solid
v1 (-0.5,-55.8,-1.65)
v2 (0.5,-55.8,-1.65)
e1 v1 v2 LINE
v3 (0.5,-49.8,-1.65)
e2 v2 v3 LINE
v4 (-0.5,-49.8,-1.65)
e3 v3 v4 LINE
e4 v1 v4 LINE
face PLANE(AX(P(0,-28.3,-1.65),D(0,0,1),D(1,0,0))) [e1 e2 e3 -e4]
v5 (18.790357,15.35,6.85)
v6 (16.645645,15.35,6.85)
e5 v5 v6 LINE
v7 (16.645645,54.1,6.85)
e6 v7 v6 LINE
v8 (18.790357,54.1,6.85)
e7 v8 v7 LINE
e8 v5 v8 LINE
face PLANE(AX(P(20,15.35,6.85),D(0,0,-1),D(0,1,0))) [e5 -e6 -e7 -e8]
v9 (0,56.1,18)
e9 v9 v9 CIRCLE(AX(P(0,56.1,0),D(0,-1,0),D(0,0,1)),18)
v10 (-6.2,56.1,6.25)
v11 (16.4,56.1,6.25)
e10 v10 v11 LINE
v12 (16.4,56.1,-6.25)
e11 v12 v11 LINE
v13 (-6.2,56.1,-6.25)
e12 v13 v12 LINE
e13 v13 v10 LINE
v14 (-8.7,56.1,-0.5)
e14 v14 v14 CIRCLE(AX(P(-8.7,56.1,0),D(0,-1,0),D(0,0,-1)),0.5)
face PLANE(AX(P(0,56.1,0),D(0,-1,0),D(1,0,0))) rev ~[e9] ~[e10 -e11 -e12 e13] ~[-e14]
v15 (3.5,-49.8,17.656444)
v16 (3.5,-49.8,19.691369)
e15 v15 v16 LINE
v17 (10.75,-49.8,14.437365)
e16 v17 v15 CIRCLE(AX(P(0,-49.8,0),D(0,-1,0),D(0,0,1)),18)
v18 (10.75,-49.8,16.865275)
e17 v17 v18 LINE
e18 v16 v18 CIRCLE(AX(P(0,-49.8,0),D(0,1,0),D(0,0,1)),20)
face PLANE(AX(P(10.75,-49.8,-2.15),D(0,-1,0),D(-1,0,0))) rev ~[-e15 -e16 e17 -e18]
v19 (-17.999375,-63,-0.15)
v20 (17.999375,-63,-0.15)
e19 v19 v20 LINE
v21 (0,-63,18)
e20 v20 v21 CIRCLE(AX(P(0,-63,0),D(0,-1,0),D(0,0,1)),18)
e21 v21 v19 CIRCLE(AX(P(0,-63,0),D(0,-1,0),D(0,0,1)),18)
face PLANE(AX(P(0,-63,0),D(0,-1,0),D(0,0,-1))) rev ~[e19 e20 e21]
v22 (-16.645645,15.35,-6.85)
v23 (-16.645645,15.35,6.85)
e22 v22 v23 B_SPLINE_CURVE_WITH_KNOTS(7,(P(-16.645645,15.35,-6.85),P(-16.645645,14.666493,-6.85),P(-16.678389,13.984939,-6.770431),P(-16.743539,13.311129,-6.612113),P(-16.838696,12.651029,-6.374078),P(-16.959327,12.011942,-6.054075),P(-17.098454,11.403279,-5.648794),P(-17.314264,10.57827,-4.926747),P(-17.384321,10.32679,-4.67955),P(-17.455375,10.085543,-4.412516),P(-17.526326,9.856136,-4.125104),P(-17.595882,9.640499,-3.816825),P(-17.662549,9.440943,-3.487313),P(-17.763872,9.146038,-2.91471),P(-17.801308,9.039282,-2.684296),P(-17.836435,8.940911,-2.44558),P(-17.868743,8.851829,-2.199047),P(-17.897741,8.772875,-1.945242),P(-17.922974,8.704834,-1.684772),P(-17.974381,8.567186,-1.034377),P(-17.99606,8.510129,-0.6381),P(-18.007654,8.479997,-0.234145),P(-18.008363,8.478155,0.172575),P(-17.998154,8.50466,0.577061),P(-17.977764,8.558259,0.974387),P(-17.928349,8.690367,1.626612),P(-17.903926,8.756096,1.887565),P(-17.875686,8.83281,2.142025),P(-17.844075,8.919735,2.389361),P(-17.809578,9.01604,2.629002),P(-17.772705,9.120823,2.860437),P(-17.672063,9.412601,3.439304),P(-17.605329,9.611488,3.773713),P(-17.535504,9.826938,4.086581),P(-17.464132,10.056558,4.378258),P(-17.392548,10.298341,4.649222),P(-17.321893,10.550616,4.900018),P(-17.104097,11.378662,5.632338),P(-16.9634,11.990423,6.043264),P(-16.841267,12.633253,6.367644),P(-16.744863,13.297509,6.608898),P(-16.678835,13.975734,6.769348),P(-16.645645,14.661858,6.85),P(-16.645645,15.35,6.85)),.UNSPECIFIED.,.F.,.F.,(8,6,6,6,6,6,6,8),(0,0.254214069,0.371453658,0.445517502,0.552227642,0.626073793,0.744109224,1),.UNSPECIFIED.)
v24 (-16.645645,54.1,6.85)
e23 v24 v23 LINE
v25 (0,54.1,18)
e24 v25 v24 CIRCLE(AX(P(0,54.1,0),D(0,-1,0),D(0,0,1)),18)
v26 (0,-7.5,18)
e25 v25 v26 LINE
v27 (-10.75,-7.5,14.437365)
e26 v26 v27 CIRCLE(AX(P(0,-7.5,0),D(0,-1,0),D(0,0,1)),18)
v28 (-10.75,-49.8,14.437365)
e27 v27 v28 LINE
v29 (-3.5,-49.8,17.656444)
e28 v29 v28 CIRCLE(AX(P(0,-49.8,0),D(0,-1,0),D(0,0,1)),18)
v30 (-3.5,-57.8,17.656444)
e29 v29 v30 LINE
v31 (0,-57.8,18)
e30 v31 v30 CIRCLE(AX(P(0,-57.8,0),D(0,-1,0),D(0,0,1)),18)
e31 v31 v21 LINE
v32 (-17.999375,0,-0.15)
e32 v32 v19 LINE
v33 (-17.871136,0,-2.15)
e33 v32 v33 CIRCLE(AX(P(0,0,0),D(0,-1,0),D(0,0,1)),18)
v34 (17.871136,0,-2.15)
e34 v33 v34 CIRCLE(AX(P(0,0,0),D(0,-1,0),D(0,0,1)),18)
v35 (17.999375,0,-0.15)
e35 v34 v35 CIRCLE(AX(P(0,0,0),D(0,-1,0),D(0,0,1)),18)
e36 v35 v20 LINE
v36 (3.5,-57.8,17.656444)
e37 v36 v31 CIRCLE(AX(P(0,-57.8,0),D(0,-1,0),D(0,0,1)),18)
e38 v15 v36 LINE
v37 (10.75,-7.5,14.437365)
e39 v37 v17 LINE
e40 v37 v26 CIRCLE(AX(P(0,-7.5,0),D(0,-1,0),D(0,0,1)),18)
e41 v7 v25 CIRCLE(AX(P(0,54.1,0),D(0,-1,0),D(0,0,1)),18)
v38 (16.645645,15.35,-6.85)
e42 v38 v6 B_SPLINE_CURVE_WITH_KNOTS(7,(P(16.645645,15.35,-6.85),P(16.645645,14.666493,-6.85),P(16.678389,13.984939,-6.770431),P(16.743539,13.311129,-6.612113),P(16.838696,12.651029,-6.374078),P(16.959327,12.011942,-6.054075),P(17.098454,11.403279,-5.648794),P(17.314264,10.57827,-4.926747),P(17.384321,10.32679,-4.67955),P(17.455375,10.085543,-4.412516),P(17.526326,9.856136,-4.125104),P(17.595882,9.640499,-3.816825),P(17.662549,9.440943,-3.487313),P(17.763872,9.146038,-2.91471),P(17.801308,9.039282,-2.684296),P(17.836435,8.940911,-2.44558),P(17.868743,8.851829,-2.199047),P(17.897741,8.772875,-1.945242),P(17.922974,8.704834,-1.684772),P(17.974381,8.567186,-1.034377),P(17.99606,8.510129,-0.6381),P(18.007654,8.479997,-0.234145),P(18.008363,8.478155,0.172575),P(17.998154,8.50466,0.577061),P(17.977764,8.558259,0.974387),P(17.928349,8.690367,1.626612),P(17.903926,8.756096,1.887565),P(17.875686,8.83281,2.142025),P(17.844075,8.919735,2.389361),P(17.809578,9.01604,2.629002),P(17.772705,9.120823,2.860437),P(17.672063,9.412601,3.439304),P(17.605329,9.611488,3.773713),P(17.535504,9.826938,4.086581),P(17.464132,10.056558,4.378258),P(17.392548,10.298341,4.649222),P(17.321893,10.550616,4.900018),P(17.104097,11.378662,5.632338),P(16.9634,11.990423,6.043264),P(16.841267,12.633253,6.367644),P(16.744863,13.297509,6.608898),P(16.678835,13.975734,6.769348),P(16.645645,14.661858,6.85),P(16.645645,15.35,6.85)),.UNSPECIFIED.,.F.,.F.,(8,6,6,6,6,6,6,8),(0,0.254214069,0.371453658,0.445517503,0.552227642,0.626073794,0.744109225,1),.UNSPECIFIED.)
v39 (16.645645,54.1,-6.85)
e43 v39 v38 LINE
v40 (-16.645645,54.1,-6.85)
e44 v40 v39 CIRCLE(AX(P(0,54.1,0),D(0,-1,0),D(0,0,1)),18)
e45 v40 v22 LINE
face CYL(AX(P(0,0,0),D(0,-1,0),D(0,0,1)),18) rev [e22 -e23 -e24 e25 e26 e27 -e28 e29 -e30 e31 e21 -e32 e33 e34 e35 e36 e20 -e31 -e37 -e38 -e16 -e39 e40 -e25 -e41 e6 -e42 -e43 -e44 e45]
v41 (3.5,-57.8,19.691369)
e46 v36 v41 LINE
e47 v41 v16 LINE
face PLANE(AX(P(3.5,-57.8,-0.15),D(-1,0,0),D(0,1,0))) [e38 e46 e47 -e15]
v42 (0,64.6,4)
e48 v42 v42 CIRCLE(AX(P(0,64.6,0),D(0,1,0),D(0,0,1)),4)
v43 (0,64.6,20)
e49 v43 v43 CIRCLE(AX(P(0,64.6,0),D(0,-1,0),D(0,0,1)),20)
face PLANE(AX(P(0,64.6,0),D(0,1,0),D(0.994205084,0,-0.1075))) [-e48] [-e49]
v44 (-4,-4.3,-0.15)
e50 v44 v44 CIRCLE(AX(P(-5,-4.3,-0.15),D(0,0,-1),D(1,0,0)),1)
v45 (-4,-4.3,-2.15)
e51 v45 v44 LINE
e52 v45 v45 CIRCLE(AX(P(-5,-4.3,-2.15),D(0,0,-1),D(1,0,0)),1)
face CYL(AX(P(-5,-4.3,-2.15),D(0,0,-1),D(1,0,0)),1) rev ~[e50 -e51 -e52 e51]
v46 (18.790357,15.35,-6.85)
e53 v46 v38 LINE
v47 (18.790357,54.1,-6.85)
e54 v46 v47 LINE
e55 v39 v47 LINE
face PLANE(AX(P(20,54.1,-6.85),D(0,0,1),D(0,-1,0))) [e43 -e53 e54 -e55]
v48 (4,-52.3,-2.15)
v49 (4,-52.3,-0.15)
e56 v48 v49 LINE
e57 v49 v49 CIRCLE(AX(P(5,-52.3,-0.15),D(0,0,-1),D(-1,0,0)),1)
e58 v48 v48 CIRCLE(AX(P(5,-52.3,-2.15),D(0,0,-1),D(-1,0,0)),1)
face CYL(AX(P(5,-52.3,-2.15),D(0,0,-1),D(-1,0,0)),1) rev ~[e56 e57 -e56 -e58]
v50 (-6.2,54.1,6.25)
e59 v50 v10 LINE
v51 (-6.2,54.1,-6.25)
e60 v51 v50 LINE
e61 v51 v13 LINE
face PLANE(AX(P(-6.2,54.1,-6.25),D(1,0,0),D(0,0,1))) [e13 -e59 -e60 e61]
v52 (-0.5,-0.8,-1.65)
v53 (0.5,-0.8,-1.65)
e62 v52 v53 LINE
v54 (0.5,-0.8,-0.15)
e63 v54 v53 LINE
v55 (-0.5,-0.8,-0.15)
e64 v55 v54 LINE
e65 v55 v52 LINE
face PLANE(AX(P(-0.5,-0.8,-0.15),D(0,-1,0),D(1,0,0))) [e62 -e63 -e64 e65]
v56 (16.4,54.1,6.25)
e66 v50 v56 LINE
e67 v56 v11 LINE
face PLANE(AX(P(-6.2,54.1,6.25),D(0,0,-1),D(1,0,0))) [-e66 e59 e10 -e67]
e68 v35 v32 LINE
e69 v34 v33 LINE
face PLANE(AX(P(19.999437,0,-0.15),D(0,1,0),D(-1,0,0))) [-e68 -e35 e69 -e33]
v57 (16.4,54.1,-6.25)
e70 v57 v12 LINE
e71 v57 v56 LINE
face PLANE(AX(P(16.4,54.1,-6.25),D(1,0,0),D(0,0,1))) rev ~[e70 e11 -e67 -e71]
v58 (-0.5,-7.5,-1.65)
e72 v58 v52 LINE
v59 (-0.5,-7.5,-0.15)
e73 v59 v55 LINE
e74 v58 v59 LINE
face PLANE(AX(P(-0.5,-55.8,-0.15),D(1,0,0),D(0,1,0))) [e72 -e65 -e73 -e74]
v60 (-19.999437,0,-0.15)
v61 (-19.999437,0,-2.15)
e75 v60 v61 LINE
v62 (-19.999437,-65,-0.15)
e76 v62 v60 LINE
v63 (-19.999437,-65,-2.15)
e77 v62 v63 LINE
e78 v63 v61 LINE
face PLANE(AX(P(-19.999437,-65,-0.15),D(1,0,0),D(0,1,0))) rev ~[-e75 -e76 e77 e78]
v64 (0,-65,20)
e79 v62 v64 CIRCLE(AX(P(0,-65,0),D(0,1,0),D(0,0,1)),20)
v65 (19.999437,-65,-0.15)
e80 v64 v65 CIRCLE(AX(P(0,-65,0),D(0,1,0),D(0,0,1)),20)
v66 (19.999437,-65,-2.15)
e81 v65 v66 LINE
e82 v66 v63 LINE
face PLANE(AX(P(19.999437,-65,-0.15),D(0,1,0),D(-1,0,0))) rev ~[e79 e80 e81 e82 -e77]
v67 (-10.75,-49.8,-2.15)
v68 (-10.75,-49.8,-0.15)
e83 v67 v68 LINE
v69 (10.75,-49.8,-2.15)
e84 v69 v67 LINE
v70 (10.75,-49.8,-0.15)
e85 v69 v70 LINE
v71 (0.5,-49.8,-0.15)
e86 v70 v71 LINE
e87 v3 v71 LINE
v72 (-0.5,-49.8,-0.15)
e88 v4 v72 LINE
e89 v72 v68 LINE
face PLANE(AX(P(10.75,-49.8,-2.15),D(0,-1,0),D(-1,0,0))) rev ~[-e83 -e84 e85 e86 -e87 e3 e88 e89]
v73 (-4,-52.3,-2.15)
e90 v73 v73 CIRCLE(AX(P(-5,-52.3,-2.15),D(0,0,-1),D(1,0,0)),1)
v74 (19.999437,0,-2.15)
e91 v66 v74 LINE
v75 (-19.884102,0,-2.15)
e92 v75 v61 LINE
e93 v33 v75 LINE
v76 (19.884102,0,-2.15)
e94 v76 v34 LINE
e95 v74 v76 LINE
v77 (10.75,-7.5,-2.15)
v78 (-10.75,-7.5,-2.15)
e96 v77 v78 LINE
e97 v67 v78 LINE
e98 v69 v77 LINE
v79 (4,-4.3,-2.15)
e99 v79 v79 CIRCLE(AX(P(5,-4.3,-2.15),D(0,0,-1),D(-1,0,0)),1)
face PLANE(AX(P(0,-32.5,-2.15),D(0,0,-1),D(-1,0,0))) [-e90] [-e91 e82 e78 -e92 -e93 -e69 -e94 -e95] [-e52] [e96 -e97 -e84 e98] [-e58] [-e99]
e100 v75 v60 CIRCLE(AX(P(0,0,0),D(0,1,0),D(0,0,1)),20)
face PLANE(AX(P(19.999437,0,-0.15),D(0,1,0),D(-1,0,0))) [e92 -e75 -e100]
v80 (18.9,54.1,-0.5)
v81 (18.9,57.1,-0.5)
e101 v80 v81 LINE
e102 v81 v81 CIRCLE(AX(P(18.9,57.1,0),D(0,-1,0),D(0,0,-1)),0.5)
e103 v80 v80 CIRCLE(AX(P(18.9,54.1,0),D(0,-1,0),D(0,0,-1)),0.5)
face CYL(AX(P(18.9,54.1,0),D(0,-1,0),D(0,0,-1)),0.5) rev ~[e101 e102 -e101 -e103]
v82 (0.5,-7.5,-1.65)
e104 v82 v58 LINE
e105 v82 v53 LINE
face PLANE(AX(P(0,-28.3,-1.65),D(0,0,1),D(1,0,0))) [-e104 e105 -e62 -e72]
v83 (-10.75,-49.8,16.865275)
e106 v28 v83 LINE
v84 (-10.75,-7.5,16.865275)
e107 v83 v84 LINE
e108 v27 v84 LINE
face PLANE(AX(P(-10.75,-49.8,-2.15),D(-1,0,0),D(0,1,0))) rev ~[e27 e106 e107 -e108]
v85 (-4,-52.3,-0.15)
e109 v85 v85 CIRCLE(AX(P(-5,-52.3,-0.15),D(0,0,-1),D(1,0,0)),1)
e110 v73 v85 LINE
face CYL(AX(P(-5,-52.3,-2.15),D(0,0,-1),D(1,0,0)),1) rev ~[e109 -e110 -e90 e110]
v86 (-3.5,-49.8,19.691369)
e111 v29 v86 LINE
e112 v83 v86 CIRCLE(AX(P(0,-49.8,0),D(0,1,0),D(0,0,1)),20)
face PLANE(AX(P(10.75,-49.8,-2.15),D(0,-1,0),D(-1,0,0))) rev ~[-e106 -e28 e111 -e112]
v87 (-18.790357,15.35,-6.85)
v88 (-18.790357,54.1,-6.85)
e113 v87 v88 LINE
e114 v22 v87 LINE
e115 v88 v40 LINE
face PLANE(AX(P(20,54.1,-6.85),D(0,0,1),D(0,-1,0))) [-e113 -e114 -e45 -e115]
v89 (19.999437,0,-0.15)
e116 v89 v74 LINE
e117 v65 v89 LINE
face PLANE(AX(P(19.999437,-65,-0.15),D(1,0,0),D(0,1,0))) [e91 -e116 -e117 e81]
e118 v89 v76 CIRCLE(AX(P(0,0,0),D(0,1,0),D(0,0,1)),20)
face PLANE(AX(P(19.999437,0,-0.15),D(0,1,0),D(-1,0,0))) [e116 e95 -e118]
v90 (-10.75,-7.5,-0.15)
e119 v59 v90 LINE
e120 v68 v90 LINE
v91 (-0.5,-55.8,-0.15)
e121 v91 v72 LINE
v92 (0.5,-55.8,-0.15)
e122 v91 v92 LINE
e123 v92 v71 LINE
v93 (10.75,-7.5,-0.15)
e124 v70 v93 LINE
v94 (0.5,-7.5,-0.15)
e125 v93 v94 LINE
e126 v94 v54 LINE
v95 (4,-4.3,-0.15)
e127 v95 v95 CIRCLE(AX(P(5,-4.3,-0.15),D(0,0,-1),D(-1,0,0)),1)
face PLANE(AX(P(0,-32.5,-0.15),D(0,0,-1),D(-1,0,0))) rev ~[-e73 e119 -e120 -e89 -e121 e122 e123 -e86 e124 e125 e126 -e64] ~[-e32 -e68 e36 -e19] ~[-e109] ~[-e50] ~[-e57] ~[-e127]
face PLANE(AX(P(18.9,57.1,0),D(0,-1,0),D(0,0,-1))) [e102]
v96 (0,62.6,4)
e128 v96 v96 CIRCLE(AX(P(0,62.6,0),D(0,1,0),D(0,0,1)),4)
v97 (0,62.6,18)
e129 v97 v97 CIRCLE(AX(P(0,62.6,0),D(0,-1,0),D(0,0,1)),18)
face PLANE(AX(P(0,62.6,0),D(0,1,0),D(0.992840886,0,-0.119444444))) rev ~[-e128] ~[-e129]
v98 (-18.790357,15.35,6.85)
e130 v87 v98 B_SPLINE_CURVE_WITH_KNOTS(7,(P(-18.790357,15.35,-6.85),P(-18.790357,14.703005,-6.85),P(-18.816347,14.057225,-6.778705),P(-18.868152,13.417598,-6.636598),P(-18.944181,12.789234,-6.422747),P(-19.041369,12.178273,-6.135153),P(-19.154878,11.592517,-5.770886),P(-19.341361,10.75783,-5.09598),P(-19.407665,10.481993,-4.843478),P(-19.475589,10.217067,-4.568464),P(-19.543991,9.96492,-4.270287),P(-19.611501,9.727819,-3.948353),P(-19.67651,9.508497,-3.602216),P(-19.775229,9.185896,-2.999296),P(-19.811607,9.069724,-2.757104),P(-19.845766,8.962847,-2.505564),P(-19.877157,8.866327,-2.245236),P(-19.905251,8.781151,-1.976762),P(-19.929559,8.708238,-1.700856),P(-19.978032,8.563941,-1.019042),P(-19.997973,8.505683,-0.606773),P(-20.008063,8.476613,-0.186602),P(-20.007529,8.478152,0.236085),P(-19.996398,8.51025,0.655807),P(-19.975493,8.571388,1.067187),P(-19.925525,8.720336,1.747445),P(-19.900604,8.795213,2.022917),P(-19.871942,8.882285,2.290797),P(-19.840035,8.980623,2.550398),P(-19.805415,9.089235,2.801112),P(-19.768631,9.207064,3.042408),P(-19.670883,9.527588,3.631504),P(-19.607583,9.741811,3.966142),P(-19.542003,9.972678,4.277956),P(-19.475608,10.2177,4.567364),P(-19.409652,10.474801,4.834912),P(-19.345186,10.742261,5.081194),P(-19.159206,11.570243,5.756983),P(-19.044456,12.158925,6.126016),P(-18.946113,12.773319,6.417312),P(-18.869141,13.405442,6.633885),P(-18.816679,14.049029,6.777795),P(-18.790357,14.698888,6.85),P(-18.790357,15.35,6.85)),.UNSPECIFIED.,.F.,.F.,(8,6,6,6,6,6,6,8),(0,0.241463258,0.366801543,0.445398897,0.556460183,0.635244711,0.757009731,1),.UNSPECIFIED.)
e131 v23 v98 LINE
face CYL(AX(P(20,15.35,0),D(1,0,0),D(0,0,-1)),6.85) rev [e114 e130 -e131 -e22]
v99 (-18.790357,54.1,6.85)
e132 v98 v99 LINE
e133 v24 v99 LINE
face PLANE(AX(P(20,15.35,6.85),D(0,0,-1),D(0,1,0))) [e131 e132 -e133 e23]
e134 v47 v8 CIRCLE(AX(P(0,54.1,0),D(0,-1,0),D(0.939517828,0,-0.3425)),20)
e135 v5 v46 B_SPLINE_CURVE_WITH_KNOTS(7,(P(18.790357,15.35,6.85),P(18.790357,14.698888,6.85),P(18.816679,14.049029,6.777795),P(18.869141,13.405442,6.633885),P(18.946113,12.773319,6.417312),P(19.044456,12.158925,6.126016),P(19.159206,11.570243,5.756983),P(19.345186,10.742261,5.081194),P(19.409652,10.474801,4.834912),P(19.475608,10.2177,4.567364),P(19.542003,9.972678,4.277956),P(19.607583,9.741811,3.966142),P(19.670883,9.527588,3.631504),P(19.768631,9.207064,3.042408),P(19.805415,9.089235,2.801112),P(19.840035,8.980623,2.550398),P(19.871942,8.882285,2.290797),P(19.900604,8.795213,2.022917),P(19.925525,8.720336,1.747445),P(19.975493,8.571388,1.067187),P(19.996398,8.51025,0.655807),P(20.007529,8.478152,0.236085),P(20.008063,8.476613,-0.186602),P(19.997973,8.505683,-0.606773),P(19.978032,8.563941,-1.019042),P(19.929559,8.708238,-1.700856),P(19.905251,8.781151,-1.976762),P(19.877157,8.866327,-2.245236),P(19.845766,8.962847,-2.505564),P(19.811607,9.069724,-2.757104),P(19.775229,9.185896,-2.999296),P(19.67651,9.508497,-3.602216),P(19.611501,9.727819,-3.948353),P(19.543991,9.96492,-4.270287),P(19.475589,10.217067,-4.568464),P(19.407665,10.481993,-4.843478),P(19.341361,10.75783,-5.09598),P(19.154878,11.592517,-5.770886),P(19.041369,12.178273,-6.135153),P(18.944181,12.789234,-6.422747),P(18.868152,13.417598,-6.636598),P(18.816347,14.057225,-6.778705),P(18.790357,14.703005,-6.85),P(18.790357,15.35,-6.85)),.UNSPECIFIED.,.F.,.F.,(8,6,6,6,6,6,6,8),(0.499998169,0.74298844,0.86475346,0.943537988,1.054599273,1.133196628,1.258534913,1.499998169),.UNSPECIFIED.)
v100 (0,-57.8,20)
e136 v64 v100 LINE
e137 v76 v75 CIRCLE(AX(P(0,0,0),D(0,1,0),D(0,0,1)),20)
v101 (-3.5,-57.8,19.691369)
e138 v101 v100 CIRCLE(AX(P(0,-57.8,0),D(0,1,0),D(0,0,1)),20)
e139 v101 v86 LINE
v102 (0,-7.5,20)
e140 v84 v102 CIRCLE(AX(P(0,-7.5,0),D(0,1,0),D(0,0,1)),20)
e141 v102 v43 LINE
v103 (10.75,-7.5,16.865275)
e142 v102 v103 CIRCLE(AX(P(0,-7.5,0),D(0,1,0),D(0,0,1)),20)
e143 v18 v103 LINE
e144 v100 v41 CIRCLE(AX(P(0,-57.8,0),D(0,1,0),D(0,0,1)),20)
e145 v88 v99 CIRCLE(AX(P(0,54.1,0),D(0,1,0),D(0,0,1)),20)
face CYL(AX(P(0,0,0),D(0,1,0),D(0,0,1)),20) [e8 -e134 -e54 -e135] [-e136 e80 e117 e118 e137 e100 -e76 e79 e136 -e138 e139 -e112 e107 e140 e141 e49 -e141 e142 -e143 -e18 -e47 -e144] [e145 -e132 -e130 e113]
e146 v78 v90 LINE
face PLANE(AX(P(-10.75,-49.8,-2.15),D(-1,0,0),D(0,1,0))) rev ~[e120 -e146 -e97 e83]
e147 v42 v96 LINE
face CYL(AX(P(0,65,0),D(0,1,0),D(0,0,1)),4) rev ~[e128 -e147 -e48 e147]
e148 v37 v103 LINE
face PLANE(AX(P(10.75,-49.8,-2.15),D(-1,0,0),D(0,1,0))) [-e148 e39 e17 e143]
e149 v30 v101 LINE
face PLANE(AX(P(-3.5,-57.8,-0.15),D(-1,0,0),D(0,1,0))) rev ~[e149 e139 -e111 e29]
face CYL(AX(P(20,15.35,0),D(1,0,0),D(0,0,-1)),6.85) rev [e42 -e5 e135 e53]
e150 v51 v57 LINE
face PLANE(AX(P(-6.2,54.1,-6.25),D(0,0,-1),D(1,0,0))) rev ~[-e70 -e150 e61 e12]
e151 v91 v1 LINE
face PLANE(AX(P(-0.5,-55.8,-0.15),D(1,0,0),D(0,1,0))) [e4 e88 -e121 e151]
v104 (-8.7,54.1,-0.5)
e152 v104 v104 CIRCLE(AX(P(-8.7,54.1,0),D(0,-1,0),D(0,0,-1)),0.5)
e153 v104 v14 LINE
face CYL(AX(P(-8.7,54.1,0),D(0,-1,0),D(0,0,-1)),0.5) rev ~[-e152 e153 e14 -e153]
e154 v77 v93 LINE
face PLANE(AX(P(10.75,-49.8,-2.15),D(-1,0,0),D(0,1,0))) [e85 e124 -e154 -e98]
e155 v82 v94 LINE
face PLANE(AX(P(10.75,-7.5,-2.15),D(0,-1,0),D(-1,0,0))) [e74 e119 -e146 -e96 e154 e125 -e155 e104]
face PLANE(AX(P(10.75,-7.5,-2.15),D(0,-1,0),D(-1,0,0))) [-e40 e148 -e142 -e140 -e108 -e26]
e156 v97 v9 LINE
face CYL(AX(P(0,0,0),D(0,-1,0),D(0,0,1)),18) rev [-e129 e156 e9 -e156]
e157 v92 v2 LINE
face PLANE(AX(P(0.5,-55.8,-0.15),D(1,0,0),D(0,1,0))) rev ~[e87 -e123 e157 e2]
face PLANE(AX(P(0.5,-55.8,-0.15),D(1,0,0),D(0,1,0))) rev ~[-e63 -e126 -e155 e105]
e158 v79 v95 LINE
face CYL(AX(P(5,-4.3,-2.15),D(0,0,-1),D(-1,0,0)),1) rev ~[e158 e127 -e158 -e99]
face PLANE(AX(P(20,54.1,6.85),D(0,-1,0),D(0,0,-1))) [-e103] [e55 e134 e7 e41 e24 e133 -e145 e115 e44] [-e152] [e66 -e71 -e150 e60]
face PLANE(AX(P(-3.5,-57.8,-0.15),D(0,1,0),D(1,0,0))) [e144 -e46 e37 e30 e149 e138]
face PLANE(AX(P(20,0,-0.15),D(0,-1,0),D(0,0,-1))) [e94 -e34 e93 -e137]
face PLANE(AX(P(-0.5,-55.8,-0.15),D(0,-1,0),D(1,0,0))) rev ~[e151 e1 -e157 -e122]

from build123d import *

# Parameters (mm, degrees)
SKETCH1_R           = 20
SKETCH1_R_2         = 18
BOSS_EXTRUDE1_DEPTH = 65
SKETCH2_R           = 18
BOSS_EXTRUDE2_DEPTH = 2
SKETCH4_W           = 24.70942711
SKETCH4_H           = 65
CUT_EXTRUDE1_DEPTH  = 79.89866919
SKETCH5_W           = 39.998874984
SKETCH5_H           = 65
BOSS_EXTRUDE3_DEPTH = 2
SKETCH6_W           = 21.5
SKETCH6_H           = 42.3
CUT_EXTRUDE2_DEPTH  = 72.523580028
SKETCH7_R           = 1
CUT_EXTRUDE3_DEPTH  = 2
SKETCH8_W           = 1
SKETCH8_H           = 55
CUT_EXTRUDE4_DEPTH  = 1.5
BOSS_EXTRUDE4_START = -2.4
SKETCH9_R           = 18
BOSS_EXTRUDE4_DEPTH = 2.4
CUT_EXTRUDE5_DEPTH  = 79.89866919
SKETCH11_R          = 18.596328204
SKETCH11_W          = 22.6
SKETCH11_H          = 12.5
BOSS_EXTRUDE6_DEPTH = 2
SKETCH12_R          = 0.5
CUT_EXTRUDE6_DEPTH  = 3
SKETCH15_R          = 4
CUT_EXTRUDE8_DEPTH  = 5
SKETCH16_R          = 20
CUT_EXTRUDE9_DEPTH  = 0.4
SKETCH18_W          = 7
SKETCH18_H          = 8
CUT_EXTRUDE10_DEPTH = 71.929701261


with BuildPart() as part:
    # Sketch1 → Boss-Extrude1 (new, symmetric)
    with BuildSketch(Plane(origin=(0, 0, 0), x_dir=(1, 0, 0), z_dir=(0, 1, 0))):
        with Locations(Location((0, 0, 0), (0, 0, 270))):
            Circle(SKETCH1_R)
        with Locations(Location((0, 0, 0), (0, 0, 270))):
            Circle(SKETCH1_R_2, mode=Mode.SUBTRACT)
    extrude(amount=BOSS_EXTRUDE1_DEPTH, both=True)

    # Sketch2 → Boss-Extrude2 (add)
    with BuildSketch(Plane.XZ.offset(65)):
        with Locations(Location((0, 0, 0), (0, 0, 270))):
            Circle(SKETCH2_R)
    extrude(amount=-BOSS_EXTRUDE2_DEPTH)

    # Sketch4 → Cut-Extrude1 (cut, through all)
    with BuildSketch(Plane(origin=(20, 0, 0), x_dir=(0, 0, -1), z_dir=(1, 0, 0))):
        with Locations((12.504713555, -32.5)):
            Rectangle(SKETCH4_W, SKETCH4_H)
    extrude(amount=-CUT_EXTRUDE1_DEPTH, mode=Mode.SUBTRACT)

    # Sketch5 → Boss-Extrude3 (add)
    with BuildSketch(Plane(origin=(0, 0, -0.15), x_dir=(-1, 0, 0), z_dir=(0, 0, -1))):
        with Locations((0, -32.5)):
            Rectangle(SKETCH5_W, SKETCH5_H)
    extrude(amount=BOSS_EXTRUDE3_DEPTH)

    # Sketch6 → Cut-Extrude2 (cut, through all)
    with BuildSketch(Plane(origin=(0, 0, -2.15), x_dir=(-1, 0, 0), z_dir=(0, 0, -1))):
        with Locations((0, -28.65)):
            Rectangle(SKETCH6_W, SKETCH6_H)
    extrude(amount=-CUT_EXTRUDE2_DEPTH, mode=Mode.SUBTRACT)

    # Sketch7 → Cut-Extrude3 (cut)
    with BuildSketch(Plane(origin=(0, 0, -2.15), x_dir=(-1, 0, 0), z_dir=(0, 0, -1))):
        with Locations((-5, -4.3)):
            Circle(SKETCH7_R)
        with Locations((-5, -52.3)):
            Circle(SKETCH7_R)
        with Locations(Location((5, -52.3, 0), (0, 0, 180))):
            Circle(SKETCH7_R)
        with Locations(Location((5, -4.3, 0), (0, 0, 180))):
            Circle(SKETCH7_R)
    extrude(amount=-CUT_EXTRUDE3_DEPTH, mode=Mode.SUBTRACT)

    # Sketch8 → Cut-Extrude4 (cut)
    with BuildSketch(Plane.XY.offset(-0.15)):
        with Locations((0, -28.3)):
            Rectangle(SKETCH8_W, SKETCH8_H)
    extrude(amount=-CUT_EXTRUDE4_DEPTH, mode=Mode.SUBTRACT)

    # Sketch9 → Boss-Extrude4 (add)
    with BuildSketch(Plane(origin=(0, 65, 0), x_dir=(1, 0, 0), z_dir=(0, 1, 0)).offset(BOSS_EXTRUDE4_START)):
        with Locations(Location((0, 0, 0), (0, 0, 6.860040985))):
            Circle(SKETCH9_R)
    extrude(amount=BOSS_EXTRUDE4_DEPTH)

    # Sketch10 → Cut-Extrude5 (cut, through all)
    with BuildSketch(Plane(origin=(20, 0, 0), x_dir=(0, 0, -1), z_dir=(1, 0, 0))):
        with BuildLine():
            Line((-6.85, 54.1), (6.85, 54.1))
            Line((6.85, 54.1), (6.85, 15.35))
            ThreePointArc((6.85, 15.35), (0, 8.5), (-6.85, 15.35))
            Line((-6.85, 15.35), (-6.85, 54.1))
        make_face()
    extrude(amount=-CUT_EXTRUDE5_DEPTH, mode=Mode.SUBTRACT)

    # Sketch11 → Boss-Extrude6 (add)
    with BuildSketch(Plane.XZ.offset(-54.1)):
        Circle(SKETCH11_R)
        with Locations((5.1, 0)):
            Rectangle(SKETCH11_W, SKETCH11_H, mode=Mode.SUBTRACT)
    extrude(amount=-BOSS_EXTRUDE6_DEPTH)

    # Sketch12 → Cut-Extrude6 (cut)
    with BuildSketch(Plane.XZ.offset(-54.1)):
        with Locations(Location((18.9, 0, 0), (0, 0, 270))):
            Circle(SKETCH12_R)
        with Locations(Location((-8.7, 0, 0), (0, 0, 270))):
            Circle(SKETCH12_R)
    extrude(amount=-CUT_EXTRUDE6_DEPTH, mode=Mode.SUBTRACT)

    # Sketch15 → Cut-Extrude8 (cut)
    with BuildSketch(Plane(origin=(0, 65, 0), x_dir=(1, 0, 0), z_dir=(0, 1, 0))):
        with Locations(Location((0, 0, 0), (0, 0, 270))):
            Circle(SKETCH15_R)
    extrude(amount=-CUT_EXTRUDE8_DEPTH, mode=Mode.SUBTRACT)

    # Sketch16 → Cut-Extrude9 (cut)
    with BuildSketch(Plane(origin=(0, 65, 0), x_dir=(1, 0, 0), z_dir=(0, 1, 0))):
        with Locations(Location((0, 0, 0), (0, 0, 6.171221478))):
            Circle(SKETCH16_R)
    extrude(amount=-CUT_EXTRUDE9_DEPTH, mode=Mode.SUBTRACT)

    # Sketch18 → Cut-Extrude10 (cut, through all)
    with BuildSketch(Plane.XY.offset(-0.15)):
        with Locations((0, -53.8)):
            Rectangle(SKETCH18_W, SKETCH18_H)
    extrude(amount=CUT_EXTRUDE10_DEPTH, mode=Mode.SUBTRACT)


solid = part.part
